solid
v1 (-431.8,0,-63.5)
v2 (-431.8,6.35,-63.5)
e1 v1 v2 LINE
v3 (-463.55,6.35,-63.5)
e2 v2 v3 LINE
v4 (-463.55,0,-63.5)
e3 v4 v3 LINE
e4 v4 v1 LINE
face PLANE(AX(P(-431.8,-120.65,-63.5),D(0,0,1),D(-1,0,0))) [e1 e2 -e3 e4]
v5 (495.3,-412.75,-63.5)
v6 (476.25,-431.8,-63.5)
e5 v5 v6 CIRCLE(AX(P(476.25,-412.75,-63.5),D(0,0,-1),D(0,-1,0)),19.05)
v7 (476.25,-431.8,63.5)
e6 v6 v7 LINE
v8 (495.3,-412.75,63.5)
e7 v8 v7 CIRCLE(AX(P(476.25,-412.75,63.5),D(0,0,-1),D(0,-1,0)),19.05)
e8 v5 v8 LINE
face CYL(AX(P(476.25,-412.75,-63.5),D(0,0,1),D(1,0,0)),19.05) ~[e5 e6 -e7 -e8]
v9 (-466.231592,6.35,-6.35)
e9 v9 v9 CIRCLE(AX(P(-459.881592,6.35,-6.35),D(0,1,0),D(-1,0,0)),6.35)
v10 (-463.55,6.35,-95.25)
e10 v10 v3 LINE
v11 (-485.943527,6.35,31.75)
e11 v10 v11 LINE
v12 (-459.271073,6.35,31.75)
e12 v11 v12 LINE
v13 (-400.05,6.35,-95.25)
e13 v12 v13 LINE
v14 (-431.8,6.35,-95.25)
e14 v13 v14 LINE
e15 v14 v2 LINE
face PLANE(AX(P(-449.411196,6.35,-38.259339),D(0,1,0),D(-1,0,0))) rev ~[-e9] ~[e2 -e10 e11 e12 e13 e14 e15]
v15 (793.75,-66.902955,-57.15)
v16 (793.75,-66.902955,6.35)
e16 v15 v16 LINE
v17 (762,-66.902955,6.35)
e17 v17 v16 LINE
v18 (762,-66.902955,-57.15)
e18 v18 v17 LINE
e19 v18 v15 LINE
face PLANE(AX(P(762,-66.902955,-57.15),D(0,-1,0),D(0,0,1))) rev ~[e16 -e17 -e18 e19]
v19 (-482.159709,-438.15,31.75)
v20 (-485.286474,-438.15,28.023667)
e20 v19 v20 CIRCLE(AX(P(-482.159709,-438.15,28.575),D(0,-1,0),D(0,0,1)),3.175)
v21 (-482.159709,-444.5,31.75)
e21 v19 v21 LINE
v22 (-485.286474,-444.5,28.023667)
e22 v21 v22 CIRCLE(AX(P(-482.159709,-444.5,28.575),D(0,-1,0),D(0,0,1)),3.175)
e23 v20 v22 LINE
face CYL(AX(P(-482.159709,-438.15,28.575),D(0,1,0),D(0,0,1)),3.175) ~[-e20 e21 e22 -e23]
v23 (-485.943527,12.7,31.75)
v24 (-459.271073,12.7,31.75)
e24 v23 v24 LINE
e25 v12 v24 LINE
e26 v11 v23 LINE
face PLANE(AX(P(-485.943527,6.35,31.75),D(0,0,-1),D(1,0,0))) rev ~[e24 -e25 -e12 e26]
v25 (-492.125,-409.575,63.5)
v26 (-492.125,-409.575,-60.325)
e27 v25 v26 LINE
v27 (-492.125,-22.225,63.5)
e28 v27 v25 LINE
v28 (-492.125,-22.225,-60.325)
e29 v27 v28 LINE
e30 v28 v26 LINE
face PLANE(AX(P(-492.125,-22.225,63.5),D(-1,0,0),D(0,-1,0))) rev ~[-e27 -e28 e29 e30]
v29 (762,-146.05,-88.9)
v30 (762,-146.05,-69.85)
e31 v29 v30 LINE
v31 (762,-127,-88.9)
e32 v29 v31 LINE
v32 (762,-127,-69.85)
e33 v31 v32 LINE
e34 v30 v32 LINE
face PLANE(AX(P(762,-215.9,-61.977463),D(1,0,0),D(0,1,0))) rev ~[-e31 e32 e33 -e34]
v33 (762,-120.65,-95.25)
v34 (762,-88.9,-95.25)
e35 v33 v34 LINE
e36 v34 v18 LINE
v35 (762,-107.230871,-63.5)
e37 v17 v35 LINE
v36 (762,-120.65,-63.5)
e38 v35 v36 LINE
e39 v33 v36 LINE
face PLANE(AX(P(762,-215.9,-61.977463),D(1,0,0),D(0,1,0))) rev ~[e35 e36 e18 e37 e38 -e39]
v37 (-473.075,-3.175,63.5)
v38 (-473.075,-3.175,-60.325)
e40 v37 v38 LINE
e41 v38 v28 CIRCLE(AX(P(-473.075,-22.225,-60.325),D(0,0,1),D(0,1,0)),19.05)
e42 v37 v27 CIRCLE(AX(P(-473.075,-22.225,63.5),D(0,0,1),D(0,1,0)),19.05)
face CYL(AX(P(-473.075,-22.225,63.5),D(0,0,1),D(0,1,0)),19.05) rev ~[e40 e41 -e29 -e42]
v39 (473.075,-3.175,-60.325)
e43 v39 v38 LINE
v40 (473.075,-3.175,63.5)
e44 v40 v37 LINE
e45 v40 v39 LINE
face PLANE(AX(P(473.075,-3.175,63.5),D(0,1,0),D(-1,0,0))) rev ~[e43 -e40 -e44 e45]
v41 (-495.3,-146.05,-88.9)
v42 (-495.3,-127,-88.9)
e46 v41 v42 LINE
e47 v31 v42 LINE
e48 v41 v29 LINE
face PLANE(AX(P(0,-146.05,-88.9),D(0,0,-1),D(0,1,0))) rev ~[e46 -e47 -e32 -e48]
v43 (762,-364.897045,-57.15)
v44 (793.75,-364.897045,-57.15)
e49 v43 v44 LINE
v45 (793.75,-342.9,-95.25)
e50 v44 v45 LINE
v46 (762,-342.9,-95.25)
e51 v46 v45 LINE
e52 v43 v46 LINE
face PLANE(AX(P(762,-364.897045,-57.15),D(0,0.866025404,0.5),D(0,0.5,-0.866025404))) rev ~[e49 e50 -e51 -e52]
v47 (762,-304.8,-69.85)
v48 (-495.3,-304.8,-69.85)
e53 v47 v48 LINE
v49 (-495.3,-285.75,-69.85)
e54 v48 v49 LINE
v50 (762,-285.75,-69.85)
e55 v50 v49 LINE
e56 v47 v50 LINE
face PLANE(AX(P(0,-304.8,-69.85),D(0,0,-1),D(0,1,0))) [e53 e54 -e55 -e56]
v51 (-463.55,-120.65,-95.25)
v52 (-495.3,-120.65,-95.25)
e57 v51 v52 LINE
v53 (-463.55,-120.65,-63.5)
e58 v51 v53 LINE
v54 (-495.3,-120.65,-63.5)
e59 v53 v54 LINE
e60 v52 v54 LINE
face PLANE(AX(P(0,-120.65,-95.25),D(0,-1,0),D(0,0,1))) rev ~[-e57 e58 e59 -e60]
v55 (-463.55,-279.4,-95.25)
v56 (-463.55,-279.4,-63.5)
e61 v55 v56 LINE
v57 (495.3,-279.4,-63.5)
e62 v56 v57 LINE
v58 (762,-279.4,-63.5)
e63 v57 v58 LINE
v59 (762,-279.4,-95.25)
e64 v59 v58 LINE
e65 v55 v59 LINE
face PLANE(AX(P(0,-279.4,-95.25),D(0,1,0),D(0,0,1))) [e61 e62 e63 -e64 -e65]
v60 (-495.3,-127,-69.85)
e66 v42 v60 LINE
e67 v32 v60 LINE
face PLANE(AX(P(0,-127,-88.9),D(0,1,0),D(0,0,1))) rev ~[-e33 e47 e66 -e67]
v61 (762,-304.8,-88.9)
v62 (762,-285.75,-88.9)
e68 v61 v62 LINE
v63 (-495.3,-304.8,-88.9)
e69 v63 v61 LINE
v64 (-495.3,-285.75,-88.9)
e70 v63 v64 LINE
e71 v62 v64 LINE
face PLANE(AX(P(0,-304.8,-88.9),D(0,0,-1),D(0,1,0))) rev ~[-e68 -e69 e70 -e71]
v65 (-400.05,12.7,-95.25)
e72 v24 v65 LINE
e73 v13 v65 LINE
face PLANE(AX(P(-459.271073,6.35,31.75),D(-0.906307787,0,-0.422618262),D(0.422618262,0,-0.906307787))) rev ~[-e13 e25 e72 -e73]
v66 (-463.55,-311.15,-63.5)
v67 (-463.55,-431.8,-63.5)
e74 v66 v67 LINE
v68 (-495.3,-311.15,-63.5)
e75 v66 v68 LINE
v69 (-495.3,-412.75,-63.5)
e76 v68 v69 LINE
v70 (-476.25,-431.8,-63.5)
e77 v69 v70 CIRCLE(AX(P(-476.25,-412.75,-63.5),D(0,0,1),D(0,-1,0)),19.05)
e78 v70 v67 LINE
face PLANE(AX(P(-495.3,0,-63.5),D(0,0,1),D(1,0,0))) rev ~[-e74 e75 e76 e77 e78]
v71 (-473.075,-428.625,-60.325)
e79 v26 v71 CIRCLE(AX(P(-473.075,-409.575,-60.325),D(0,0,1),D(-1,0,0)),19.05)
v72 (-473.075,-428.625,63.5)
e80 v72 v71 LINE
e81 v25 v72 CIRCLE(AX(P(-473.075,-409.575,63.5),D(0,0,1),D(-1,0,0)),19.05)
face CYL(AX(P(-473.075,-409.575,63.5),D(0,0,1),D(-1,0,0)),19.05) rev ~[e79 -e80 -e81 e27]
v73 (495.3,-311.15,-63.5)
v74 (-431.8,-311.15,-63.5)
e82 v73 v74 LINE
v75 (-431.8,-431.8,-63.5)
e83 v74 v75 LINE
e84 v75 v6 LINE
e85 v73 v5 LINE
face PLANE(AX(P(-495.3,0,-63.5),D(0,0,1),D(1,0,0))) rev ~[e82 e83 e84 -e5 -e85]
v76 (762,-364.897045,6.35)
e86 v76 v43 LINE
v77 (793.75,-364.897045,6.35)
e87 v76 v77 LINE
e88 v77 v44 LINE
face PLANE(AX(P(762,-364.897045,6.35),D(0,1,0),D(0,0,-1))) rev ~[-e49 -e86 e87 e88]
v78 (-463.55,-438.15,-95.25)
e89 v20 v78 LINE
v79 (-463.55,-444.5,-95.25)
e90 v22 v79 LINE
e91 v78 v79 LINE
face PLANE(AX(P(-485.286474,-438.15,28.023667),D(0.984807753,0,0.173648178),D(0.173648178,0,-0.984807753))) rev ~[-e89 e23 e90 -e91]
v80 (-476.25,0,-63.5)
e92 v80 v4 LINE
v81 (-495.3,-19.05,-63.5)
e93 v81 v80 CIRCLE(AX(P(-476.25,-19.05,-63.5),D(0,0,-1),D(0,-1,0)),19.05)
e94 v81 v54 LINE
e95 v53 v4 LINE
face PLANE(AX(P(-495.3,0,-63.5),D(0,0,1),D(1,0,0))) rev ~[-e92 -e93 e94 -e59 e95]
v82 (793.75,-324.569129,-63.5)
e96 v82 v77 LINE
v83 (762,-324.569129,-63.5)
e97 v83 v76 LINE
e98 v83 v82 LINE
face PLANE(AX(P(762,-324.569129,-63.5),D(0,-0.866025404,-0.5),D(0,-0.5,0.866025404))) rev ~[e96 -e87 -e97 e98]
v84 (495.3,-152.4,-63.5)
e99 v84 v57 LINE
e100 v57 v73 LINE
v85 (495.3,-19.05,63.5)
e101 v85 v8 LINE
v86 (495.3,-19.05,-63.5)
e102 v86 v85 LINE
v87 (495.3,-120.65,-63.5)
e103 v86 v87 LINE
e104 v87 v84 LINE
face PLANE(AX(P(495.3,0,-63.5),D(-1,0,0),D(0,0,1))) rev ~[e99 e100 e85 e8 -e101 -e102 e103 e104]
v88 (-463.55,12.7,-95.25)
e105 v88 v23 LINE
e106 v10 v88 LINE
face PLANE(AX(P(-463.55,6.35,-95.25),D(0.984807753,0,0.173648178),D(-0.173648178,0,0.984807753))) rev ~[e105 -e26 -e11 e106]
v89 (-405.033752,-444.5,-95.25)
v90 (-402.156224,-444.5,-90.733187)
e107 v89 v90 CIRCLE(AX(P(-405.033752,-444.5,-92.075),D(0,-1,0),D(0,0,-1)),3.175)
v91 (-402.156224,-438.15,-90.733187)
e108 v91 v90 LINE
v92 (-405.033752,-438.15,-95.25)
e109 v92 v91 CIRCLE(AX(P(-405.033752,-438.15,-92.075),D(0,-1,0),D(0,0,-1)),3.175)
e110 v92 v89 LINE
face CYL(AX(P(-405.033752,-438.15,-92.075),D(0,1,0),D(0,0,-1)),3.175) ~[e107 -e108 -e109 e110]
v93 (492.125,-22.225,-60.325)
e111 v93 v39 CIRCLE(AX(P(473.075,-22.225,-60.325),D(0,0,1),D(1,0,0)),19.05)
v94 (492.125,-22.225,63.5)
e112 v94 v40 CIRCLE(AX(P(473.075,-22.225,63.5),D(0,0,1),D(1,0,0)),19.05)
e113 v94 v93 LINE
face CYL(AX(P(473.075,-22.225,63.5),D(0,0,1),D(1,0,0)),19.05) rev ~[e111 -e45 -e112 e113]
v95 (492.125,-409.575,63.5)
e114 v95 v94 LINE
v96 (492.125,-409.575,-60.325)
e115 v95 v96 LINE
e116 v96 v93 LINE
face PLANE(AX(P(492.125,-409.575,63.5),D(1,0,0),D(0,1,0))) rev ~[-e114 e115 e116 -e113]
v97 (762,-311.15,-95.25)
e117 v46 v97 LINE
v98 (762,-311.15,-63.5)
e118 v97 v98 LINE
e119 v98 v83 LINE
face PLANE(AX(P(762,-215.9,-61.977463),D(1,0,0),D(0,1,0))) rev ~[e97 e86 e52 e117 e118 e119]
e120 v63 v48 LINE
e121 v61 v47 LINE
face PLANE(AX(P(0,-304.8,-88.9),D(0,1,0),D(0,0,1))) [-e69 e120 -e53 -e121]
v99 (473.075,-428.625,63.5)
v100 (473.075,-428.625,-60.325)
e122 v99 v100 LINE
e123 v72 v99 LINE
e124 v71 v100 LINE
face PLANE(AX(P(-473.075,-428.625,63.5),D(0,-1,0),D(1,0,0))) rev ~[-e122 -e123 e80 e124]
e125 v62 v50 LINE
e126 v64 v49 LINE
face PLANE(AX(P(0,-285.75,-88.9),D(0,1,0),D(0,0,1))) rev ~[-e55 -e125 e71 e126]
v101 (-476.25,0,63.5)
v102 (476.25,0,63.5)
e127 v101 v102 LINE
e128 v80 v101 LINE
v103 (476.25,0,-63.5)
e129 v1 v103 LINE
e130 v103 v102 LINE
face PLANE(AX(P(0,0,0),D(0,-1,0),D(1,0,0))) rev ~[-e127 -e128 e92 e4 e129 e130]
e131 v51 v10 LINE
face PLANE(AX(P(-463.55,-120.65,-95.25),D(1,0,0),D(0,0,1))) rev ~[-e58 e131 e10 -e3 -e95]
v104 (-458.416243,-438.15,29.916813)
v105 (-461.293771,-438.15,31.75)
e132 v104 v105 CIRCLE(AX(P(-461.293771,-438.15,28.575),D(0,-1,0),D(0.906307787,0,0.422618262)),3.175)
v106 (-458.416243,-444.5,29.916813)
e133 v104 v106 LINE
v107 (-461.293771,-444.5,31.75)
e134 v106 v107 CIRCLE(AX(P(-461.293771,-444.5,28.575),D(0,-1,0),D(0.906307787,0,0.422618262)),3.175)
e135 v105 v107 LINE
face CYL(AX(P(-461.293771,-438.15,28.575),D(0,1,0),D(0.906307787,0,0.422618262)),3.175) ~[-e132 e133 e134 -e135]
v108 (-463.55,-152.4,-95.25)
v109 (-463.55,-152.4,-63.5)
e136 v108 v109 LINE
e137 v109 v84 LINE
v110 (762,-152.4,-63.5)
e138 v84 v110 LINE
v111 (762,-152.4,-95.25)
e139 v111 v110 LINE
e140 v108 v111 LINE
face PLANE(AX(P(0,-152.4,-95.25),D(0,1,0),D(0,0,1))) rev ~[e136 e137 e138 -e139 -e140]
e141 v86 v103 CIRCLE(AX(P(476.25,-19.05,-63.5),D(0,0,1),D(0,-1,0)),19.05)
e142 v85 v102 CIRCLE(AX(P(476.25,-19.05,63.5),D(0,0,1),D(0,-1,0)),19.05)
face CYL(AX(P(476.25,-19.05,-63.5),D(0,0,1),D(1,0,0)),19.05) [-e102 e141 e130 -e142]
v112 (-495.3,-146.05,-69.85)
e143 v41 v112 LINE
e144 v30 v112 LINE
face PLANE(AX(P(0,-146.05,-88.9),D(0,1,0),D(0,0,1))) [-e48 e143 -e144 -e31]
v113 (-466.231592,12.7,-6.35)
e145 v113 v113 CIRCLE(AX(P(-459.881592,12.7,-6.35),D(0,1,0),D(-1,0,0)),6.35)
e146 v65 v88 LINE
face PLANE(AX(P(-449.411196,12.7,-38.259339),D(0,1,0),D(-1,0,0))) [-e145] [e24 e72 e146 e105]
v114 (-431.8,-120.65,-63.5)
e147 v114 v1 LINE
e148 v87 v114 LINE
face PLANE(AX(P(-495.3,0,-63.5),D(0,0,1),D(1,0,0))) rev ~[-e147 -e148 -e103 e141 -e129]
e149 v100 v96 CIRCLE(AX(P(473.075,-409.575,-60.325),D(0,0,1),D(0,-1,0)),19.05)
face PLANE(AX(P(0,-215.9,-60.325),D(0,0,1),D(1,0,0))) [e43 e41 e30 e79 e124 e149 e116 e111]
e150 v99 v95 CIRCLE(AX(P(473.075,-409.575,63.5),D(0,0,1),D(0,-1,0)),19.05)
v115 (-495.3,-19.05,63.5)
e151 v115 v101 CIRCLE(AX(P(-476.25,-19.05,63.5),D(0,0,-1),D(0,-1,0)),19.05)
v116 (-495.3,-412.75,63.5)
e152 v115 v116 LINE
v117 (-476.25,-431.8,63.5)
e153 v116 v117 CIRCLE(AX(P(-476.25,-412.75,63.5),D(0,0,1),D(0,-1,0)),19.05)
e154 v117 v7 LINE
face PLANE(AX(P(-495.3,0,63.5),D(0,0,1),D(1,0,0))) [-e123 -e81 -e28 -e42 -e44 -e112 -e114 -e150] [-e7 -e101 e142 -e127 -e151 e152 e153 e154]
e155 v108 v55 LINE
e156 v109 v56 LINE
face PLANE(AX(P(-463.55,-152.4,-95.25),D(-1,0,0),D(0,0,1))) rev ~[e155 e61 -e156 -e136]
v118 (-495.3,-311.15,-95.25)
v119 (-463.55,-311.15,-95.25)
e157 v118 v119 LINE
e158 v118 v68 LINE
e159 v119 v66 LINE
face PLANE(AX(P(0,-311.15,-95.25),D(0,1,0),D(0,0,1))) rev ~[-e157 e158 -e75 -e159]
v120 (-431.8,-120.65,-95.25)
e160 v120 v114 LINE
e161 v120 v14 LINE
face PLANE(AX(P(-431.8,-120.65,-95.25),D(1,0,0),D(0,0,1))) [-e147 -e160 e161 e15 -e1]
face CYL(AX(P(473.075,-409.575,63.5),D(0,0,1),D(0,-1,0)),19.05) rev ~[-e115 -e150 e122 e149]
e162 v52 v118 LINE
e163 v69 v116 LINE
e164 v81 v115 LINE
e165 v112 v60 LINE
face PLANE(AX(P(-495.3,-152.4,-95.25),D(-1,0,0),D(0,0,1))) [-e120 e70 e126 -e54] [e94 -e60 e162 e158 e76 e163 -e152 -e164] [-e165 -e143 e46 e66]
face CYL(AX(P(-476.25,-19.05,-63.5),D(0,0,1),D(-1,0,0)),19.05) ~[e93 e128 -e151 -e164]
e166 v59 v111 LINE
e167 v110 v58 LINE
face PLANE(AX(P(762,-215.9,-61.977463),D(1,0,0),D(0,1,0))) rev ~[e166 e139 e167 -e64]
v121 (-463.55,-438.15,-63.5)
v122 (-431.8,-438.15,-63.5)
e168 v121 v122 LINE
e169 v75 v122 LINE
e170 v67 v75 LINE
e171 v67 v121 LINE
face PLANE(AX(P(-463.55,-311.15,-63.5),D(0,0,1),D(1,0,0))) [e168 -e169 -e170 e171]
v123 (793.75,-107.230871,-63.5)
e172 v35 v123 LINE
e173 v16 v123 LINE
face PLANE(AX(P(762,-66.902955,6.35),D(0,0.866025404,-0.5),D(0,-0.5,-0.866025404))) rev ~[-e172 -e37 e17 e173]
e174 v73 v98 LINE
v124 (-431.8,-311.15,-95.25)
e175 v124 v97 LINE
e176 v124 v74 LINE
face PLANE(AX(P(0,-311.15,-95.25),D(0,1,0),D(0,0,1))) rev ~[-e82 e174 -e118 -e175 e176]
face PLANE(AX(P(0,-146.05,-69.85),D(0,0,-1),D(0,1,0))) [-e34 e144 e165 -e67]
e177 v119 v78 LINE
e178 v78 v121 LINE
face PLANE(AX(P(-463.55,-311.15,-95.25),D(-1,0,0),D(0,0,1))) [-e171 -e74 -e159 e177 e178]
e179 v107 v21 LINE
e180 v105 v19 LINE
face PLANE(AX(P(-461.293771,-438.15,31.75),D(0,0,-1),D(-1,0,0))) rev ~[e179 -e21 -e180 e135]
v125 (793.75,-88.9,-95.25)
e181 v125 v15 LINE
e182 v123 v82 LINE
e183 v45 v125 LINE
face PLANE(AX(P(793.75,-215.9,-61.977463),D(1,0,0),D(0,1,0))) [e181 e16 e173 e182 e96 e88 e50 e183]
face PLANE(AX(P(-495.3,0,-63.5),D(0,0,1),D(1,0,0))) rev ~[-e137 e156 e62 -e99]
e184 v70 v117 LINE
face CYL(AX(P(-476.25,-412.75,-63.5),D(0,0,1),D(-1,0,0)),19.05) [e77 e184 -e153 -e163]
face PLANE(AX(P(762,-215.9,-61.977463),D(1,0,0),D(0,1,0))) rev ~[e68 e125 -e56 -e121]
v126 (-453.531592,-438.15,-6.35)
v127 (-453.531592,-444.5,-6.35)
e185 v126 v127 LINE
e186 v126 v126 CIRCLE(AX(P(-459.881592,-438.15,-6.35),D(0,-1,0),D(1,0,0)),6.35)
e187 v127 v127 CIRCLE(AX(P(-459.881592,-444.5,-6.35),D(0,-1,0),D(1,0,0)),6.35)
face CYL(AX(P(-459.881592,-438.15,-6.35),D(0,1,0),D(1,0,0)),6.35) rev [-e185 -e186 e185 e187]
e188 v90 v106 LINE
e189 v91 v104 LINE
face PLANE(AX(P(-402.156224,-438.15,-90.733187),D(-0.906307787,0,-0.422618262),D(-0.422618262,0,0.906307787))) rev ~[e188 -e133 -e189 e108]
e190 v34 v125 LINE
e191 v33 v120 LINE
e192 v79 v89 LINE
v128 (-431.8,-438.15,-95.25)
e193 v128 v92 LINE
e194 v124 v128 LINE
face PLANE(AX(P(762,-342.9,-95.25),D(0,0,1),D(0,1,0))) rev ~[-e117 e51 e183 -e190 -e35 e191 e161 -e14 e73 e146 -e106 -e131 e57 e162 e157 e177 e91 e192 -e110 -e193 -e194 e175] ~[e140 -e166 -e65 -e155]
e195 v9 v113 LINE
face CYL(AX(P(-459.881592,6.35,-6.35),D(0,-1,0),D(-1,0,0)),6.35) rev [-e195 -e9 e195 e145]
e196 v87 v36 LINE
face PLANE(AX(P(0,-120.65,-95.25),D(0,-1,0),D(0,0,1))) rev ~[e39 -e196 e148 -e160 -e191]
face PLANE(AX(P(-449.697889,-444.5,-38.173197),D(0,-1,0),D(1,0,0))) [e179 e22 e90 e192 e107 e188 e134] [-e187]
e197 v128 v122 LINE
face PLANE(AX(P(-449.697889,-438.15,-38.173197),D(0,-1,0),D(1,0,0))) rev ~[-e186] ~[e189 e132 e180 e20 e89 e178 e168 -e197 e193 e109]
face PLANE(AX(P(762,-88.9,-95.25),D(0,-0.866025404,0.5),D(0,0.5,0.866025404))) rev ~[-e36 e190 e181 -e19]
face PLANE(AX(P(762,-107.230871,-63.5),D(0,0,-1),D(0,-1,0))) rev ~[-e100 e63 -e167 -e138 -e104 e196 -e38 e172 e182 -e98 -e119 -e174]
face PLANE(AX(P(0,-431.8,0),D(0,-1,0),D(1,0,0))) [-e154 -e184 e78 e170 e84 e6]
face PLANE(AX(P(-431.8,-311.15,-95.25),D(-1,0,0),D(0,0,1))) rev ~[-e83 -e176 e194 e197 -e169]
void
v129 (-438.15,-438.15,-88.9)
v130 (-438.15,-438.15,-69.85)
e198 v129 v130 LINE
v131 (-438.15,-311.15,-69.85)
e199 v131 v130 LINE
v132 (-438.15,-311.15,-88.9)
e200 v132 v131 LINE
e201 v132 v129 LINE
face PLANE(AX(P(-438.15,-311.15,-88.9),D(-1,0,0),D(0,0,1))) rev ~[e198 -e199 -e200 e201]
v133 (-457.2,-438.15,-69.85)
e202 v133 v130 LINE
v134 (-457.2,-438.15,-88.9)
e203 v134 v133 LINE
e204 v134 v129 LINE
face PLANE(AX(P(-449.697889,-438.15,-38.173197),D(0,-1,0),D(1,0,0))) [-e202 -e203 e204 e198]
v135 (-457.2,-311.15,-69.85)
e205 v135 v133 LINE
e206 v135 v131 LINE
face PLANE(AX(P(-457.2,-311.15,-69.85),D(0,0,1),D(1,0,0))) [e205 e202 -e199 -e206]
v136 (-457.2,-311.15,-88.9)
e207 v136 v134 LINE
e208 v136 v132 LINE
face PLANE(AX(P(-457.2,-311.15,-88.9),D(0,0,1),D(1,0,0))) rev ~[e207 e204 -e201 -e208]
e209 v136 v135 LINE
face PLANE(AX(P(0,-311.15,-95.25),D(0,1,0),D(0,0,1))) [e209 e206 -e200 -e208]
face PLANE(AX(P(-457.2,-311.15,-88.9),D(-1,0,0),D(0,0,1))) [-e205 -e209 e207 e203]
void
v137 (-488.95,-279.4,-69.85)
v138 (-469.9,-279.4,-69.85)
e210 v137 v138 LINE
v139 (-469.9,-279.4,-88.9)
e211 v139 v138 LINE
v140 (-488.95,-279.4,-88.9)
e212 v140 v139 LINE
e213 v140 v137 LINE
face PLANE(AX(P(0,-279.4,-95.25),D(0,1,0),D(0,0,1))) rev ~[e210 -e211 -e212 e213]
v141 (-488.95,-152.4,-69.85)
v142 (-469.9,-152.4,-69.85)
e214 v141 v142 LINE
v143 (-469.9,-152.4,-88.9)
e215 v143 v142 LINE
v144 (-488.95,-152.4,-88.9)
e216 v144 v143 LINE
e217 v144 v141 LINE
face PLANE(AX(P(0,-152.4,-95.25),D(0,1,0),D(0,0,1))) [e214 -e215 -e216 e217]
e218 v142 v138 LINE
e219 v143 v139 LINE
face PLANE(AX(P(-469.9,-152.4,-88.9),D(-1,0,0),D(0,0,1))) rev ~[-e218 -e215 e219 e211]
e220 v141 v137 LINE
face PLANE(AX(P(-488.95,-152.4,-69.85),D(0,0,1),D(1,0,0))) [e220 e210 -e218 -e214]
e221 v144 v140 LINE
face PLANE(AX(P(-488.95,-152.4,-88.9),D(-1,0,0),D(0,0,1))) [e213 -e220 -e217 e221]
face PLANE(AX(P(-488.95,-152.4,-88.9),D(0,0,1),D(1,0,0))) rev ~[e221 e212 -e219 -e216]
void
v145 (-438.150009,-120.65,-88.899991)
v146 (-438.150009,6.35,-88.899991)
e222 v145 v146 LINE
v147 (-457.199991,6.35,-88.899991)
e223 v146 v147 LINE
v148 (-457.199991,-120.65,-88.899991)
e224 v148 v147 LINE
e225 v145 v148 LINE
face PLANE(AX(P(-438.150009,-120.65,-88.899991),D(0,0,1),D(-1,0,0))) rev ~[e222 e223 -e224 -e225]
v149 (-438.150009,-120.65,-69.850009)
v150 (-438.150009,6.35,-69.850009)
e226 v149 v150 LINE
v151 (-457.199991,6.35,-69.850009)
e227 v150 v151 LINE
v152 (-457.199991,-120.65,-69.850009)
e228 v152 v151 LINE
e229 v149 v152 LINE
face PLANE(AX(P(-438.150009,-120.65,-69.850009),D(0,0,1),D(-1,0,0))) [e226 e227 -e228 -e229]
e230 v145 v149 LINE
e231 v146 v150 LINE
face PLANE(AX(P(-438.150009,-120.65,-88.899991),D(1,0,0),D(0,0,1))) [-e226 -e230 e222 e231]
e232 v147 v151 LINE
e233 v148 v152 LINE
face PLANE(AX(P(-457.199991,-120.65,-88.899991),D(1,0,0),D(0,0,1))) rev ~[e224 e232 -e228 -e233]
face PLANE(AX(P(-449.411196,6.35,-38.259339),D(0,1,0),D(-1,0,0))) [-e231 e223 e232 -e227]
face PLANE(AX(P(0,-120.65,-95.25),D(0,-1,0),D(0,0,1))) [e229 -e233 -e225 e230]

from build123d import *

# Parameters (mm, degrees)
F0_W          = 990.6
F0_H          = 127
F1_DEPTH      = 431.8
F2_R          = 19.05
F4_DEPTH      = 123.825
F5_W          = 31.75
F5_H          = 31.75
F5_W_2        = 19.05
F5_H_2        = 19.05
F6_DEPTH      = 762
F6_DEPTH_BACK = 495.3
F7_W          = 31.75
F7_H          = 31.75
F7_W_2        = 19.0499997139
F7_H_2        = 19.0499997139
F8_DEPTH      = 127
F10_W         = 31.75
F10_H         = 31.75
F10_W_2       = 19.05
F10_H_2       = 19.05
F11_DEPTH     = 127
F12_W         = 31.75
F12_H         = 31.75
F12_W_2       = 19.0499814987
F12_H_2       = 19.0499814987
F13_DEPTH     = 127
F15_R         = 6.35
F16_DEPTH     = 6.35
F18_R         = 6.35
F19_DEPTH     = 6.35
F22_DEPTH     = 31.75


with BuildPart() as f1:
    # F0 (on Front) → F1 (new body)
    with BuildSketch(Plane.XZ):
        Rectangle(F0_W, F0_H)
    extrude(amount=F1_DEPTH)

    # F2
    f2_edges = [f1.edges().sort_by_distance(p)[0] for p in [
        (495.3, -431.8, 0),
        (495.3, 0, 0),
        (-495.3, -431.8, 0),
        (-495.3, 0, 0),
    ]]
    fillet(f2_edges, radius=F2_R)

    # F3 (on face) → F4 (cut)
    with BuildSketch(Plane.XY.offset(63.5)):
        with BuildLine():
            ThreePointArc((492.125, -22.225), (486.5453841816, -8.7546158184), (473.075, -3.175))
            Line((473.075, -3.175), (-473.075, -3.175))
            ThreePointArc((-473.075, -3.175), (-486.5453841816, -8.7546158184), (-492.125, -22.225))
            Line((-492.125, -22.225), (-492.125, -409.575))
            ThreePointArc((-492.125, -409.575), (-486.5453841816, -423.0453841816), (-473.075, -428.625))
            Line((-473.075, -428.625), (473.075, -428.625))
            ThreePointArc((473.075, -428.625), (486.5453841816, -423.0453841816), (492.125, -409.575))
            Line((492.125, -409.575), (492.125, -22.225))
        make_face()
    extrude(amount=-F4_DEPTH, mode=Mode.SUBTRACT)

    # F5 (on Right) → F6 (join, two sides)
    with BuildSketch(Plane.YZ) as f6_sk:
        with Locations((-295.275, -79.375)):
            Rectangle(F5_W, F5_H)
        with Locations((-295.275, -79.375)):
            Rectangle(F5_W_2, F5_H_2, mode=Mode.SUBTRACT)
        with Locations((-136.525, -79.375)):
            Rectangle(F5_W, F5_H)
        with Locations((-136.525, -79.375)):
            Rectangle(F5_W_2, F5_H_2, mode=Mode.SUBTRACT)
    extrude(amount=F6_DEPTH)
    extrude(f6_sk.sketch, amount=-F6_DEPTH_BACK)

    # F7 (on face) → F8 (join)
    with BuildSketch(Plane.XZ.offset(152.4)):
        with Locations((-479.425, -79.375)):
            Rectangle(F7_W, F7_H)
        with Locations((-479.425, -79.375)):
            Rectangle(F7_W_2, F7_H_2, mode=Mode.SUBTRACT)
    extrude(amount=F8_DEPTH)

    # F10 (on face) → F11 (join)
    with BuildSketch(Plane.XZ.offset(311.15)):
        with Locations((-447.675, -79.375)):
            Rectangle(F10_W, F10_H)
        with Locations((-447.675, -79.375)):
            Rectangle(F10_W_2, F10_H_2, mode=Mode.SUBTRACT)
    extrude(amount=F11_DEPTH)

    # F12 (on face) → F13 (join)
    with BuildSketch(Plane(origin=(0, -120.65, 0), x_dir=(-1, 0, 0), z_dir=(0, 1, 0))):
        with Locations((447.675, -79.375)):
            Rectangle(F12_W, F12_H)
        with Locations((447.675, -79.375)):
            Rectangle(F12_W_2, F12_H_2, mode=Mode.SUBTRACT)
    extrude(amount=F13_DEPTH)

    # F15 (on offset) → F16 (join)
    with BuildSketch(Plane.XZ.offset(438.15)):
        with BuildLine():
            Line((-485.2864735093, 28.0236670359), (-463.55, -95.25))
            Line((-463.55, -95.25), (-405.0337517073, -95.25))
            ThreePointArc((-405.0337517073, -95.25), (-402.3559838669, -93.7809262565), (-402.1562244835, -90.733187019))
            Line((-402.1562244835, -90.733187019), (-458.4162434399, 29.916812981))
            ThreePointArc((-458.4162434399, 29.916812981), (-459.5878444072, 31.2527678405), (-461.2937706637, 31.75))
            Line((-461.2937706637, 31.75), (-482.1597088935, 31.75))
            ThreePointArc((-482.1597088935, 31.75), (-484.5919000004, 30.6158506608), (-485.2864735093, 28.0236670359))
        make_face()
        with Locations((-459.8815916286, -6.35)):
            Circle(F15_R, mode=Mode.SUBTRACT)
    extrude(amount=F16_DEPTH)

    # F18 (on offset) → F19 (join)
    with BuildSketch(Plane(origin=(0, 6.35, 0), x_dir=(-1, 0, 0), z_dir=(0, 1, 0))):
        Polygon((400.05, -95.25), (463.55, -95.25), (485.94352655, 31.75), (459.2710725857, 31.75), align=None)
        with Locations((459.8815916286, -6.35)):
            Circle(F18_R, mode=Mode.SUBTRACT)
    extrude(amount=F19_DEPTH)

    # F21 (on offset) → F22 (join)
    with BuildSketch(Plane.YZ.offset(762)):
        Polygon((-324.5691289532, -63.5), (-364.8970452561, 6.35), (-364.8970452561, -57.15), (-342.9, -95.25), (-88.9, -95.25), (-66.9029547439, -57.15), (-66.9029547439, 6.35), (-107.2308710468, -63.5), align=None)
    extrude(amount=F22_DEPTH)


solid = f1.part
